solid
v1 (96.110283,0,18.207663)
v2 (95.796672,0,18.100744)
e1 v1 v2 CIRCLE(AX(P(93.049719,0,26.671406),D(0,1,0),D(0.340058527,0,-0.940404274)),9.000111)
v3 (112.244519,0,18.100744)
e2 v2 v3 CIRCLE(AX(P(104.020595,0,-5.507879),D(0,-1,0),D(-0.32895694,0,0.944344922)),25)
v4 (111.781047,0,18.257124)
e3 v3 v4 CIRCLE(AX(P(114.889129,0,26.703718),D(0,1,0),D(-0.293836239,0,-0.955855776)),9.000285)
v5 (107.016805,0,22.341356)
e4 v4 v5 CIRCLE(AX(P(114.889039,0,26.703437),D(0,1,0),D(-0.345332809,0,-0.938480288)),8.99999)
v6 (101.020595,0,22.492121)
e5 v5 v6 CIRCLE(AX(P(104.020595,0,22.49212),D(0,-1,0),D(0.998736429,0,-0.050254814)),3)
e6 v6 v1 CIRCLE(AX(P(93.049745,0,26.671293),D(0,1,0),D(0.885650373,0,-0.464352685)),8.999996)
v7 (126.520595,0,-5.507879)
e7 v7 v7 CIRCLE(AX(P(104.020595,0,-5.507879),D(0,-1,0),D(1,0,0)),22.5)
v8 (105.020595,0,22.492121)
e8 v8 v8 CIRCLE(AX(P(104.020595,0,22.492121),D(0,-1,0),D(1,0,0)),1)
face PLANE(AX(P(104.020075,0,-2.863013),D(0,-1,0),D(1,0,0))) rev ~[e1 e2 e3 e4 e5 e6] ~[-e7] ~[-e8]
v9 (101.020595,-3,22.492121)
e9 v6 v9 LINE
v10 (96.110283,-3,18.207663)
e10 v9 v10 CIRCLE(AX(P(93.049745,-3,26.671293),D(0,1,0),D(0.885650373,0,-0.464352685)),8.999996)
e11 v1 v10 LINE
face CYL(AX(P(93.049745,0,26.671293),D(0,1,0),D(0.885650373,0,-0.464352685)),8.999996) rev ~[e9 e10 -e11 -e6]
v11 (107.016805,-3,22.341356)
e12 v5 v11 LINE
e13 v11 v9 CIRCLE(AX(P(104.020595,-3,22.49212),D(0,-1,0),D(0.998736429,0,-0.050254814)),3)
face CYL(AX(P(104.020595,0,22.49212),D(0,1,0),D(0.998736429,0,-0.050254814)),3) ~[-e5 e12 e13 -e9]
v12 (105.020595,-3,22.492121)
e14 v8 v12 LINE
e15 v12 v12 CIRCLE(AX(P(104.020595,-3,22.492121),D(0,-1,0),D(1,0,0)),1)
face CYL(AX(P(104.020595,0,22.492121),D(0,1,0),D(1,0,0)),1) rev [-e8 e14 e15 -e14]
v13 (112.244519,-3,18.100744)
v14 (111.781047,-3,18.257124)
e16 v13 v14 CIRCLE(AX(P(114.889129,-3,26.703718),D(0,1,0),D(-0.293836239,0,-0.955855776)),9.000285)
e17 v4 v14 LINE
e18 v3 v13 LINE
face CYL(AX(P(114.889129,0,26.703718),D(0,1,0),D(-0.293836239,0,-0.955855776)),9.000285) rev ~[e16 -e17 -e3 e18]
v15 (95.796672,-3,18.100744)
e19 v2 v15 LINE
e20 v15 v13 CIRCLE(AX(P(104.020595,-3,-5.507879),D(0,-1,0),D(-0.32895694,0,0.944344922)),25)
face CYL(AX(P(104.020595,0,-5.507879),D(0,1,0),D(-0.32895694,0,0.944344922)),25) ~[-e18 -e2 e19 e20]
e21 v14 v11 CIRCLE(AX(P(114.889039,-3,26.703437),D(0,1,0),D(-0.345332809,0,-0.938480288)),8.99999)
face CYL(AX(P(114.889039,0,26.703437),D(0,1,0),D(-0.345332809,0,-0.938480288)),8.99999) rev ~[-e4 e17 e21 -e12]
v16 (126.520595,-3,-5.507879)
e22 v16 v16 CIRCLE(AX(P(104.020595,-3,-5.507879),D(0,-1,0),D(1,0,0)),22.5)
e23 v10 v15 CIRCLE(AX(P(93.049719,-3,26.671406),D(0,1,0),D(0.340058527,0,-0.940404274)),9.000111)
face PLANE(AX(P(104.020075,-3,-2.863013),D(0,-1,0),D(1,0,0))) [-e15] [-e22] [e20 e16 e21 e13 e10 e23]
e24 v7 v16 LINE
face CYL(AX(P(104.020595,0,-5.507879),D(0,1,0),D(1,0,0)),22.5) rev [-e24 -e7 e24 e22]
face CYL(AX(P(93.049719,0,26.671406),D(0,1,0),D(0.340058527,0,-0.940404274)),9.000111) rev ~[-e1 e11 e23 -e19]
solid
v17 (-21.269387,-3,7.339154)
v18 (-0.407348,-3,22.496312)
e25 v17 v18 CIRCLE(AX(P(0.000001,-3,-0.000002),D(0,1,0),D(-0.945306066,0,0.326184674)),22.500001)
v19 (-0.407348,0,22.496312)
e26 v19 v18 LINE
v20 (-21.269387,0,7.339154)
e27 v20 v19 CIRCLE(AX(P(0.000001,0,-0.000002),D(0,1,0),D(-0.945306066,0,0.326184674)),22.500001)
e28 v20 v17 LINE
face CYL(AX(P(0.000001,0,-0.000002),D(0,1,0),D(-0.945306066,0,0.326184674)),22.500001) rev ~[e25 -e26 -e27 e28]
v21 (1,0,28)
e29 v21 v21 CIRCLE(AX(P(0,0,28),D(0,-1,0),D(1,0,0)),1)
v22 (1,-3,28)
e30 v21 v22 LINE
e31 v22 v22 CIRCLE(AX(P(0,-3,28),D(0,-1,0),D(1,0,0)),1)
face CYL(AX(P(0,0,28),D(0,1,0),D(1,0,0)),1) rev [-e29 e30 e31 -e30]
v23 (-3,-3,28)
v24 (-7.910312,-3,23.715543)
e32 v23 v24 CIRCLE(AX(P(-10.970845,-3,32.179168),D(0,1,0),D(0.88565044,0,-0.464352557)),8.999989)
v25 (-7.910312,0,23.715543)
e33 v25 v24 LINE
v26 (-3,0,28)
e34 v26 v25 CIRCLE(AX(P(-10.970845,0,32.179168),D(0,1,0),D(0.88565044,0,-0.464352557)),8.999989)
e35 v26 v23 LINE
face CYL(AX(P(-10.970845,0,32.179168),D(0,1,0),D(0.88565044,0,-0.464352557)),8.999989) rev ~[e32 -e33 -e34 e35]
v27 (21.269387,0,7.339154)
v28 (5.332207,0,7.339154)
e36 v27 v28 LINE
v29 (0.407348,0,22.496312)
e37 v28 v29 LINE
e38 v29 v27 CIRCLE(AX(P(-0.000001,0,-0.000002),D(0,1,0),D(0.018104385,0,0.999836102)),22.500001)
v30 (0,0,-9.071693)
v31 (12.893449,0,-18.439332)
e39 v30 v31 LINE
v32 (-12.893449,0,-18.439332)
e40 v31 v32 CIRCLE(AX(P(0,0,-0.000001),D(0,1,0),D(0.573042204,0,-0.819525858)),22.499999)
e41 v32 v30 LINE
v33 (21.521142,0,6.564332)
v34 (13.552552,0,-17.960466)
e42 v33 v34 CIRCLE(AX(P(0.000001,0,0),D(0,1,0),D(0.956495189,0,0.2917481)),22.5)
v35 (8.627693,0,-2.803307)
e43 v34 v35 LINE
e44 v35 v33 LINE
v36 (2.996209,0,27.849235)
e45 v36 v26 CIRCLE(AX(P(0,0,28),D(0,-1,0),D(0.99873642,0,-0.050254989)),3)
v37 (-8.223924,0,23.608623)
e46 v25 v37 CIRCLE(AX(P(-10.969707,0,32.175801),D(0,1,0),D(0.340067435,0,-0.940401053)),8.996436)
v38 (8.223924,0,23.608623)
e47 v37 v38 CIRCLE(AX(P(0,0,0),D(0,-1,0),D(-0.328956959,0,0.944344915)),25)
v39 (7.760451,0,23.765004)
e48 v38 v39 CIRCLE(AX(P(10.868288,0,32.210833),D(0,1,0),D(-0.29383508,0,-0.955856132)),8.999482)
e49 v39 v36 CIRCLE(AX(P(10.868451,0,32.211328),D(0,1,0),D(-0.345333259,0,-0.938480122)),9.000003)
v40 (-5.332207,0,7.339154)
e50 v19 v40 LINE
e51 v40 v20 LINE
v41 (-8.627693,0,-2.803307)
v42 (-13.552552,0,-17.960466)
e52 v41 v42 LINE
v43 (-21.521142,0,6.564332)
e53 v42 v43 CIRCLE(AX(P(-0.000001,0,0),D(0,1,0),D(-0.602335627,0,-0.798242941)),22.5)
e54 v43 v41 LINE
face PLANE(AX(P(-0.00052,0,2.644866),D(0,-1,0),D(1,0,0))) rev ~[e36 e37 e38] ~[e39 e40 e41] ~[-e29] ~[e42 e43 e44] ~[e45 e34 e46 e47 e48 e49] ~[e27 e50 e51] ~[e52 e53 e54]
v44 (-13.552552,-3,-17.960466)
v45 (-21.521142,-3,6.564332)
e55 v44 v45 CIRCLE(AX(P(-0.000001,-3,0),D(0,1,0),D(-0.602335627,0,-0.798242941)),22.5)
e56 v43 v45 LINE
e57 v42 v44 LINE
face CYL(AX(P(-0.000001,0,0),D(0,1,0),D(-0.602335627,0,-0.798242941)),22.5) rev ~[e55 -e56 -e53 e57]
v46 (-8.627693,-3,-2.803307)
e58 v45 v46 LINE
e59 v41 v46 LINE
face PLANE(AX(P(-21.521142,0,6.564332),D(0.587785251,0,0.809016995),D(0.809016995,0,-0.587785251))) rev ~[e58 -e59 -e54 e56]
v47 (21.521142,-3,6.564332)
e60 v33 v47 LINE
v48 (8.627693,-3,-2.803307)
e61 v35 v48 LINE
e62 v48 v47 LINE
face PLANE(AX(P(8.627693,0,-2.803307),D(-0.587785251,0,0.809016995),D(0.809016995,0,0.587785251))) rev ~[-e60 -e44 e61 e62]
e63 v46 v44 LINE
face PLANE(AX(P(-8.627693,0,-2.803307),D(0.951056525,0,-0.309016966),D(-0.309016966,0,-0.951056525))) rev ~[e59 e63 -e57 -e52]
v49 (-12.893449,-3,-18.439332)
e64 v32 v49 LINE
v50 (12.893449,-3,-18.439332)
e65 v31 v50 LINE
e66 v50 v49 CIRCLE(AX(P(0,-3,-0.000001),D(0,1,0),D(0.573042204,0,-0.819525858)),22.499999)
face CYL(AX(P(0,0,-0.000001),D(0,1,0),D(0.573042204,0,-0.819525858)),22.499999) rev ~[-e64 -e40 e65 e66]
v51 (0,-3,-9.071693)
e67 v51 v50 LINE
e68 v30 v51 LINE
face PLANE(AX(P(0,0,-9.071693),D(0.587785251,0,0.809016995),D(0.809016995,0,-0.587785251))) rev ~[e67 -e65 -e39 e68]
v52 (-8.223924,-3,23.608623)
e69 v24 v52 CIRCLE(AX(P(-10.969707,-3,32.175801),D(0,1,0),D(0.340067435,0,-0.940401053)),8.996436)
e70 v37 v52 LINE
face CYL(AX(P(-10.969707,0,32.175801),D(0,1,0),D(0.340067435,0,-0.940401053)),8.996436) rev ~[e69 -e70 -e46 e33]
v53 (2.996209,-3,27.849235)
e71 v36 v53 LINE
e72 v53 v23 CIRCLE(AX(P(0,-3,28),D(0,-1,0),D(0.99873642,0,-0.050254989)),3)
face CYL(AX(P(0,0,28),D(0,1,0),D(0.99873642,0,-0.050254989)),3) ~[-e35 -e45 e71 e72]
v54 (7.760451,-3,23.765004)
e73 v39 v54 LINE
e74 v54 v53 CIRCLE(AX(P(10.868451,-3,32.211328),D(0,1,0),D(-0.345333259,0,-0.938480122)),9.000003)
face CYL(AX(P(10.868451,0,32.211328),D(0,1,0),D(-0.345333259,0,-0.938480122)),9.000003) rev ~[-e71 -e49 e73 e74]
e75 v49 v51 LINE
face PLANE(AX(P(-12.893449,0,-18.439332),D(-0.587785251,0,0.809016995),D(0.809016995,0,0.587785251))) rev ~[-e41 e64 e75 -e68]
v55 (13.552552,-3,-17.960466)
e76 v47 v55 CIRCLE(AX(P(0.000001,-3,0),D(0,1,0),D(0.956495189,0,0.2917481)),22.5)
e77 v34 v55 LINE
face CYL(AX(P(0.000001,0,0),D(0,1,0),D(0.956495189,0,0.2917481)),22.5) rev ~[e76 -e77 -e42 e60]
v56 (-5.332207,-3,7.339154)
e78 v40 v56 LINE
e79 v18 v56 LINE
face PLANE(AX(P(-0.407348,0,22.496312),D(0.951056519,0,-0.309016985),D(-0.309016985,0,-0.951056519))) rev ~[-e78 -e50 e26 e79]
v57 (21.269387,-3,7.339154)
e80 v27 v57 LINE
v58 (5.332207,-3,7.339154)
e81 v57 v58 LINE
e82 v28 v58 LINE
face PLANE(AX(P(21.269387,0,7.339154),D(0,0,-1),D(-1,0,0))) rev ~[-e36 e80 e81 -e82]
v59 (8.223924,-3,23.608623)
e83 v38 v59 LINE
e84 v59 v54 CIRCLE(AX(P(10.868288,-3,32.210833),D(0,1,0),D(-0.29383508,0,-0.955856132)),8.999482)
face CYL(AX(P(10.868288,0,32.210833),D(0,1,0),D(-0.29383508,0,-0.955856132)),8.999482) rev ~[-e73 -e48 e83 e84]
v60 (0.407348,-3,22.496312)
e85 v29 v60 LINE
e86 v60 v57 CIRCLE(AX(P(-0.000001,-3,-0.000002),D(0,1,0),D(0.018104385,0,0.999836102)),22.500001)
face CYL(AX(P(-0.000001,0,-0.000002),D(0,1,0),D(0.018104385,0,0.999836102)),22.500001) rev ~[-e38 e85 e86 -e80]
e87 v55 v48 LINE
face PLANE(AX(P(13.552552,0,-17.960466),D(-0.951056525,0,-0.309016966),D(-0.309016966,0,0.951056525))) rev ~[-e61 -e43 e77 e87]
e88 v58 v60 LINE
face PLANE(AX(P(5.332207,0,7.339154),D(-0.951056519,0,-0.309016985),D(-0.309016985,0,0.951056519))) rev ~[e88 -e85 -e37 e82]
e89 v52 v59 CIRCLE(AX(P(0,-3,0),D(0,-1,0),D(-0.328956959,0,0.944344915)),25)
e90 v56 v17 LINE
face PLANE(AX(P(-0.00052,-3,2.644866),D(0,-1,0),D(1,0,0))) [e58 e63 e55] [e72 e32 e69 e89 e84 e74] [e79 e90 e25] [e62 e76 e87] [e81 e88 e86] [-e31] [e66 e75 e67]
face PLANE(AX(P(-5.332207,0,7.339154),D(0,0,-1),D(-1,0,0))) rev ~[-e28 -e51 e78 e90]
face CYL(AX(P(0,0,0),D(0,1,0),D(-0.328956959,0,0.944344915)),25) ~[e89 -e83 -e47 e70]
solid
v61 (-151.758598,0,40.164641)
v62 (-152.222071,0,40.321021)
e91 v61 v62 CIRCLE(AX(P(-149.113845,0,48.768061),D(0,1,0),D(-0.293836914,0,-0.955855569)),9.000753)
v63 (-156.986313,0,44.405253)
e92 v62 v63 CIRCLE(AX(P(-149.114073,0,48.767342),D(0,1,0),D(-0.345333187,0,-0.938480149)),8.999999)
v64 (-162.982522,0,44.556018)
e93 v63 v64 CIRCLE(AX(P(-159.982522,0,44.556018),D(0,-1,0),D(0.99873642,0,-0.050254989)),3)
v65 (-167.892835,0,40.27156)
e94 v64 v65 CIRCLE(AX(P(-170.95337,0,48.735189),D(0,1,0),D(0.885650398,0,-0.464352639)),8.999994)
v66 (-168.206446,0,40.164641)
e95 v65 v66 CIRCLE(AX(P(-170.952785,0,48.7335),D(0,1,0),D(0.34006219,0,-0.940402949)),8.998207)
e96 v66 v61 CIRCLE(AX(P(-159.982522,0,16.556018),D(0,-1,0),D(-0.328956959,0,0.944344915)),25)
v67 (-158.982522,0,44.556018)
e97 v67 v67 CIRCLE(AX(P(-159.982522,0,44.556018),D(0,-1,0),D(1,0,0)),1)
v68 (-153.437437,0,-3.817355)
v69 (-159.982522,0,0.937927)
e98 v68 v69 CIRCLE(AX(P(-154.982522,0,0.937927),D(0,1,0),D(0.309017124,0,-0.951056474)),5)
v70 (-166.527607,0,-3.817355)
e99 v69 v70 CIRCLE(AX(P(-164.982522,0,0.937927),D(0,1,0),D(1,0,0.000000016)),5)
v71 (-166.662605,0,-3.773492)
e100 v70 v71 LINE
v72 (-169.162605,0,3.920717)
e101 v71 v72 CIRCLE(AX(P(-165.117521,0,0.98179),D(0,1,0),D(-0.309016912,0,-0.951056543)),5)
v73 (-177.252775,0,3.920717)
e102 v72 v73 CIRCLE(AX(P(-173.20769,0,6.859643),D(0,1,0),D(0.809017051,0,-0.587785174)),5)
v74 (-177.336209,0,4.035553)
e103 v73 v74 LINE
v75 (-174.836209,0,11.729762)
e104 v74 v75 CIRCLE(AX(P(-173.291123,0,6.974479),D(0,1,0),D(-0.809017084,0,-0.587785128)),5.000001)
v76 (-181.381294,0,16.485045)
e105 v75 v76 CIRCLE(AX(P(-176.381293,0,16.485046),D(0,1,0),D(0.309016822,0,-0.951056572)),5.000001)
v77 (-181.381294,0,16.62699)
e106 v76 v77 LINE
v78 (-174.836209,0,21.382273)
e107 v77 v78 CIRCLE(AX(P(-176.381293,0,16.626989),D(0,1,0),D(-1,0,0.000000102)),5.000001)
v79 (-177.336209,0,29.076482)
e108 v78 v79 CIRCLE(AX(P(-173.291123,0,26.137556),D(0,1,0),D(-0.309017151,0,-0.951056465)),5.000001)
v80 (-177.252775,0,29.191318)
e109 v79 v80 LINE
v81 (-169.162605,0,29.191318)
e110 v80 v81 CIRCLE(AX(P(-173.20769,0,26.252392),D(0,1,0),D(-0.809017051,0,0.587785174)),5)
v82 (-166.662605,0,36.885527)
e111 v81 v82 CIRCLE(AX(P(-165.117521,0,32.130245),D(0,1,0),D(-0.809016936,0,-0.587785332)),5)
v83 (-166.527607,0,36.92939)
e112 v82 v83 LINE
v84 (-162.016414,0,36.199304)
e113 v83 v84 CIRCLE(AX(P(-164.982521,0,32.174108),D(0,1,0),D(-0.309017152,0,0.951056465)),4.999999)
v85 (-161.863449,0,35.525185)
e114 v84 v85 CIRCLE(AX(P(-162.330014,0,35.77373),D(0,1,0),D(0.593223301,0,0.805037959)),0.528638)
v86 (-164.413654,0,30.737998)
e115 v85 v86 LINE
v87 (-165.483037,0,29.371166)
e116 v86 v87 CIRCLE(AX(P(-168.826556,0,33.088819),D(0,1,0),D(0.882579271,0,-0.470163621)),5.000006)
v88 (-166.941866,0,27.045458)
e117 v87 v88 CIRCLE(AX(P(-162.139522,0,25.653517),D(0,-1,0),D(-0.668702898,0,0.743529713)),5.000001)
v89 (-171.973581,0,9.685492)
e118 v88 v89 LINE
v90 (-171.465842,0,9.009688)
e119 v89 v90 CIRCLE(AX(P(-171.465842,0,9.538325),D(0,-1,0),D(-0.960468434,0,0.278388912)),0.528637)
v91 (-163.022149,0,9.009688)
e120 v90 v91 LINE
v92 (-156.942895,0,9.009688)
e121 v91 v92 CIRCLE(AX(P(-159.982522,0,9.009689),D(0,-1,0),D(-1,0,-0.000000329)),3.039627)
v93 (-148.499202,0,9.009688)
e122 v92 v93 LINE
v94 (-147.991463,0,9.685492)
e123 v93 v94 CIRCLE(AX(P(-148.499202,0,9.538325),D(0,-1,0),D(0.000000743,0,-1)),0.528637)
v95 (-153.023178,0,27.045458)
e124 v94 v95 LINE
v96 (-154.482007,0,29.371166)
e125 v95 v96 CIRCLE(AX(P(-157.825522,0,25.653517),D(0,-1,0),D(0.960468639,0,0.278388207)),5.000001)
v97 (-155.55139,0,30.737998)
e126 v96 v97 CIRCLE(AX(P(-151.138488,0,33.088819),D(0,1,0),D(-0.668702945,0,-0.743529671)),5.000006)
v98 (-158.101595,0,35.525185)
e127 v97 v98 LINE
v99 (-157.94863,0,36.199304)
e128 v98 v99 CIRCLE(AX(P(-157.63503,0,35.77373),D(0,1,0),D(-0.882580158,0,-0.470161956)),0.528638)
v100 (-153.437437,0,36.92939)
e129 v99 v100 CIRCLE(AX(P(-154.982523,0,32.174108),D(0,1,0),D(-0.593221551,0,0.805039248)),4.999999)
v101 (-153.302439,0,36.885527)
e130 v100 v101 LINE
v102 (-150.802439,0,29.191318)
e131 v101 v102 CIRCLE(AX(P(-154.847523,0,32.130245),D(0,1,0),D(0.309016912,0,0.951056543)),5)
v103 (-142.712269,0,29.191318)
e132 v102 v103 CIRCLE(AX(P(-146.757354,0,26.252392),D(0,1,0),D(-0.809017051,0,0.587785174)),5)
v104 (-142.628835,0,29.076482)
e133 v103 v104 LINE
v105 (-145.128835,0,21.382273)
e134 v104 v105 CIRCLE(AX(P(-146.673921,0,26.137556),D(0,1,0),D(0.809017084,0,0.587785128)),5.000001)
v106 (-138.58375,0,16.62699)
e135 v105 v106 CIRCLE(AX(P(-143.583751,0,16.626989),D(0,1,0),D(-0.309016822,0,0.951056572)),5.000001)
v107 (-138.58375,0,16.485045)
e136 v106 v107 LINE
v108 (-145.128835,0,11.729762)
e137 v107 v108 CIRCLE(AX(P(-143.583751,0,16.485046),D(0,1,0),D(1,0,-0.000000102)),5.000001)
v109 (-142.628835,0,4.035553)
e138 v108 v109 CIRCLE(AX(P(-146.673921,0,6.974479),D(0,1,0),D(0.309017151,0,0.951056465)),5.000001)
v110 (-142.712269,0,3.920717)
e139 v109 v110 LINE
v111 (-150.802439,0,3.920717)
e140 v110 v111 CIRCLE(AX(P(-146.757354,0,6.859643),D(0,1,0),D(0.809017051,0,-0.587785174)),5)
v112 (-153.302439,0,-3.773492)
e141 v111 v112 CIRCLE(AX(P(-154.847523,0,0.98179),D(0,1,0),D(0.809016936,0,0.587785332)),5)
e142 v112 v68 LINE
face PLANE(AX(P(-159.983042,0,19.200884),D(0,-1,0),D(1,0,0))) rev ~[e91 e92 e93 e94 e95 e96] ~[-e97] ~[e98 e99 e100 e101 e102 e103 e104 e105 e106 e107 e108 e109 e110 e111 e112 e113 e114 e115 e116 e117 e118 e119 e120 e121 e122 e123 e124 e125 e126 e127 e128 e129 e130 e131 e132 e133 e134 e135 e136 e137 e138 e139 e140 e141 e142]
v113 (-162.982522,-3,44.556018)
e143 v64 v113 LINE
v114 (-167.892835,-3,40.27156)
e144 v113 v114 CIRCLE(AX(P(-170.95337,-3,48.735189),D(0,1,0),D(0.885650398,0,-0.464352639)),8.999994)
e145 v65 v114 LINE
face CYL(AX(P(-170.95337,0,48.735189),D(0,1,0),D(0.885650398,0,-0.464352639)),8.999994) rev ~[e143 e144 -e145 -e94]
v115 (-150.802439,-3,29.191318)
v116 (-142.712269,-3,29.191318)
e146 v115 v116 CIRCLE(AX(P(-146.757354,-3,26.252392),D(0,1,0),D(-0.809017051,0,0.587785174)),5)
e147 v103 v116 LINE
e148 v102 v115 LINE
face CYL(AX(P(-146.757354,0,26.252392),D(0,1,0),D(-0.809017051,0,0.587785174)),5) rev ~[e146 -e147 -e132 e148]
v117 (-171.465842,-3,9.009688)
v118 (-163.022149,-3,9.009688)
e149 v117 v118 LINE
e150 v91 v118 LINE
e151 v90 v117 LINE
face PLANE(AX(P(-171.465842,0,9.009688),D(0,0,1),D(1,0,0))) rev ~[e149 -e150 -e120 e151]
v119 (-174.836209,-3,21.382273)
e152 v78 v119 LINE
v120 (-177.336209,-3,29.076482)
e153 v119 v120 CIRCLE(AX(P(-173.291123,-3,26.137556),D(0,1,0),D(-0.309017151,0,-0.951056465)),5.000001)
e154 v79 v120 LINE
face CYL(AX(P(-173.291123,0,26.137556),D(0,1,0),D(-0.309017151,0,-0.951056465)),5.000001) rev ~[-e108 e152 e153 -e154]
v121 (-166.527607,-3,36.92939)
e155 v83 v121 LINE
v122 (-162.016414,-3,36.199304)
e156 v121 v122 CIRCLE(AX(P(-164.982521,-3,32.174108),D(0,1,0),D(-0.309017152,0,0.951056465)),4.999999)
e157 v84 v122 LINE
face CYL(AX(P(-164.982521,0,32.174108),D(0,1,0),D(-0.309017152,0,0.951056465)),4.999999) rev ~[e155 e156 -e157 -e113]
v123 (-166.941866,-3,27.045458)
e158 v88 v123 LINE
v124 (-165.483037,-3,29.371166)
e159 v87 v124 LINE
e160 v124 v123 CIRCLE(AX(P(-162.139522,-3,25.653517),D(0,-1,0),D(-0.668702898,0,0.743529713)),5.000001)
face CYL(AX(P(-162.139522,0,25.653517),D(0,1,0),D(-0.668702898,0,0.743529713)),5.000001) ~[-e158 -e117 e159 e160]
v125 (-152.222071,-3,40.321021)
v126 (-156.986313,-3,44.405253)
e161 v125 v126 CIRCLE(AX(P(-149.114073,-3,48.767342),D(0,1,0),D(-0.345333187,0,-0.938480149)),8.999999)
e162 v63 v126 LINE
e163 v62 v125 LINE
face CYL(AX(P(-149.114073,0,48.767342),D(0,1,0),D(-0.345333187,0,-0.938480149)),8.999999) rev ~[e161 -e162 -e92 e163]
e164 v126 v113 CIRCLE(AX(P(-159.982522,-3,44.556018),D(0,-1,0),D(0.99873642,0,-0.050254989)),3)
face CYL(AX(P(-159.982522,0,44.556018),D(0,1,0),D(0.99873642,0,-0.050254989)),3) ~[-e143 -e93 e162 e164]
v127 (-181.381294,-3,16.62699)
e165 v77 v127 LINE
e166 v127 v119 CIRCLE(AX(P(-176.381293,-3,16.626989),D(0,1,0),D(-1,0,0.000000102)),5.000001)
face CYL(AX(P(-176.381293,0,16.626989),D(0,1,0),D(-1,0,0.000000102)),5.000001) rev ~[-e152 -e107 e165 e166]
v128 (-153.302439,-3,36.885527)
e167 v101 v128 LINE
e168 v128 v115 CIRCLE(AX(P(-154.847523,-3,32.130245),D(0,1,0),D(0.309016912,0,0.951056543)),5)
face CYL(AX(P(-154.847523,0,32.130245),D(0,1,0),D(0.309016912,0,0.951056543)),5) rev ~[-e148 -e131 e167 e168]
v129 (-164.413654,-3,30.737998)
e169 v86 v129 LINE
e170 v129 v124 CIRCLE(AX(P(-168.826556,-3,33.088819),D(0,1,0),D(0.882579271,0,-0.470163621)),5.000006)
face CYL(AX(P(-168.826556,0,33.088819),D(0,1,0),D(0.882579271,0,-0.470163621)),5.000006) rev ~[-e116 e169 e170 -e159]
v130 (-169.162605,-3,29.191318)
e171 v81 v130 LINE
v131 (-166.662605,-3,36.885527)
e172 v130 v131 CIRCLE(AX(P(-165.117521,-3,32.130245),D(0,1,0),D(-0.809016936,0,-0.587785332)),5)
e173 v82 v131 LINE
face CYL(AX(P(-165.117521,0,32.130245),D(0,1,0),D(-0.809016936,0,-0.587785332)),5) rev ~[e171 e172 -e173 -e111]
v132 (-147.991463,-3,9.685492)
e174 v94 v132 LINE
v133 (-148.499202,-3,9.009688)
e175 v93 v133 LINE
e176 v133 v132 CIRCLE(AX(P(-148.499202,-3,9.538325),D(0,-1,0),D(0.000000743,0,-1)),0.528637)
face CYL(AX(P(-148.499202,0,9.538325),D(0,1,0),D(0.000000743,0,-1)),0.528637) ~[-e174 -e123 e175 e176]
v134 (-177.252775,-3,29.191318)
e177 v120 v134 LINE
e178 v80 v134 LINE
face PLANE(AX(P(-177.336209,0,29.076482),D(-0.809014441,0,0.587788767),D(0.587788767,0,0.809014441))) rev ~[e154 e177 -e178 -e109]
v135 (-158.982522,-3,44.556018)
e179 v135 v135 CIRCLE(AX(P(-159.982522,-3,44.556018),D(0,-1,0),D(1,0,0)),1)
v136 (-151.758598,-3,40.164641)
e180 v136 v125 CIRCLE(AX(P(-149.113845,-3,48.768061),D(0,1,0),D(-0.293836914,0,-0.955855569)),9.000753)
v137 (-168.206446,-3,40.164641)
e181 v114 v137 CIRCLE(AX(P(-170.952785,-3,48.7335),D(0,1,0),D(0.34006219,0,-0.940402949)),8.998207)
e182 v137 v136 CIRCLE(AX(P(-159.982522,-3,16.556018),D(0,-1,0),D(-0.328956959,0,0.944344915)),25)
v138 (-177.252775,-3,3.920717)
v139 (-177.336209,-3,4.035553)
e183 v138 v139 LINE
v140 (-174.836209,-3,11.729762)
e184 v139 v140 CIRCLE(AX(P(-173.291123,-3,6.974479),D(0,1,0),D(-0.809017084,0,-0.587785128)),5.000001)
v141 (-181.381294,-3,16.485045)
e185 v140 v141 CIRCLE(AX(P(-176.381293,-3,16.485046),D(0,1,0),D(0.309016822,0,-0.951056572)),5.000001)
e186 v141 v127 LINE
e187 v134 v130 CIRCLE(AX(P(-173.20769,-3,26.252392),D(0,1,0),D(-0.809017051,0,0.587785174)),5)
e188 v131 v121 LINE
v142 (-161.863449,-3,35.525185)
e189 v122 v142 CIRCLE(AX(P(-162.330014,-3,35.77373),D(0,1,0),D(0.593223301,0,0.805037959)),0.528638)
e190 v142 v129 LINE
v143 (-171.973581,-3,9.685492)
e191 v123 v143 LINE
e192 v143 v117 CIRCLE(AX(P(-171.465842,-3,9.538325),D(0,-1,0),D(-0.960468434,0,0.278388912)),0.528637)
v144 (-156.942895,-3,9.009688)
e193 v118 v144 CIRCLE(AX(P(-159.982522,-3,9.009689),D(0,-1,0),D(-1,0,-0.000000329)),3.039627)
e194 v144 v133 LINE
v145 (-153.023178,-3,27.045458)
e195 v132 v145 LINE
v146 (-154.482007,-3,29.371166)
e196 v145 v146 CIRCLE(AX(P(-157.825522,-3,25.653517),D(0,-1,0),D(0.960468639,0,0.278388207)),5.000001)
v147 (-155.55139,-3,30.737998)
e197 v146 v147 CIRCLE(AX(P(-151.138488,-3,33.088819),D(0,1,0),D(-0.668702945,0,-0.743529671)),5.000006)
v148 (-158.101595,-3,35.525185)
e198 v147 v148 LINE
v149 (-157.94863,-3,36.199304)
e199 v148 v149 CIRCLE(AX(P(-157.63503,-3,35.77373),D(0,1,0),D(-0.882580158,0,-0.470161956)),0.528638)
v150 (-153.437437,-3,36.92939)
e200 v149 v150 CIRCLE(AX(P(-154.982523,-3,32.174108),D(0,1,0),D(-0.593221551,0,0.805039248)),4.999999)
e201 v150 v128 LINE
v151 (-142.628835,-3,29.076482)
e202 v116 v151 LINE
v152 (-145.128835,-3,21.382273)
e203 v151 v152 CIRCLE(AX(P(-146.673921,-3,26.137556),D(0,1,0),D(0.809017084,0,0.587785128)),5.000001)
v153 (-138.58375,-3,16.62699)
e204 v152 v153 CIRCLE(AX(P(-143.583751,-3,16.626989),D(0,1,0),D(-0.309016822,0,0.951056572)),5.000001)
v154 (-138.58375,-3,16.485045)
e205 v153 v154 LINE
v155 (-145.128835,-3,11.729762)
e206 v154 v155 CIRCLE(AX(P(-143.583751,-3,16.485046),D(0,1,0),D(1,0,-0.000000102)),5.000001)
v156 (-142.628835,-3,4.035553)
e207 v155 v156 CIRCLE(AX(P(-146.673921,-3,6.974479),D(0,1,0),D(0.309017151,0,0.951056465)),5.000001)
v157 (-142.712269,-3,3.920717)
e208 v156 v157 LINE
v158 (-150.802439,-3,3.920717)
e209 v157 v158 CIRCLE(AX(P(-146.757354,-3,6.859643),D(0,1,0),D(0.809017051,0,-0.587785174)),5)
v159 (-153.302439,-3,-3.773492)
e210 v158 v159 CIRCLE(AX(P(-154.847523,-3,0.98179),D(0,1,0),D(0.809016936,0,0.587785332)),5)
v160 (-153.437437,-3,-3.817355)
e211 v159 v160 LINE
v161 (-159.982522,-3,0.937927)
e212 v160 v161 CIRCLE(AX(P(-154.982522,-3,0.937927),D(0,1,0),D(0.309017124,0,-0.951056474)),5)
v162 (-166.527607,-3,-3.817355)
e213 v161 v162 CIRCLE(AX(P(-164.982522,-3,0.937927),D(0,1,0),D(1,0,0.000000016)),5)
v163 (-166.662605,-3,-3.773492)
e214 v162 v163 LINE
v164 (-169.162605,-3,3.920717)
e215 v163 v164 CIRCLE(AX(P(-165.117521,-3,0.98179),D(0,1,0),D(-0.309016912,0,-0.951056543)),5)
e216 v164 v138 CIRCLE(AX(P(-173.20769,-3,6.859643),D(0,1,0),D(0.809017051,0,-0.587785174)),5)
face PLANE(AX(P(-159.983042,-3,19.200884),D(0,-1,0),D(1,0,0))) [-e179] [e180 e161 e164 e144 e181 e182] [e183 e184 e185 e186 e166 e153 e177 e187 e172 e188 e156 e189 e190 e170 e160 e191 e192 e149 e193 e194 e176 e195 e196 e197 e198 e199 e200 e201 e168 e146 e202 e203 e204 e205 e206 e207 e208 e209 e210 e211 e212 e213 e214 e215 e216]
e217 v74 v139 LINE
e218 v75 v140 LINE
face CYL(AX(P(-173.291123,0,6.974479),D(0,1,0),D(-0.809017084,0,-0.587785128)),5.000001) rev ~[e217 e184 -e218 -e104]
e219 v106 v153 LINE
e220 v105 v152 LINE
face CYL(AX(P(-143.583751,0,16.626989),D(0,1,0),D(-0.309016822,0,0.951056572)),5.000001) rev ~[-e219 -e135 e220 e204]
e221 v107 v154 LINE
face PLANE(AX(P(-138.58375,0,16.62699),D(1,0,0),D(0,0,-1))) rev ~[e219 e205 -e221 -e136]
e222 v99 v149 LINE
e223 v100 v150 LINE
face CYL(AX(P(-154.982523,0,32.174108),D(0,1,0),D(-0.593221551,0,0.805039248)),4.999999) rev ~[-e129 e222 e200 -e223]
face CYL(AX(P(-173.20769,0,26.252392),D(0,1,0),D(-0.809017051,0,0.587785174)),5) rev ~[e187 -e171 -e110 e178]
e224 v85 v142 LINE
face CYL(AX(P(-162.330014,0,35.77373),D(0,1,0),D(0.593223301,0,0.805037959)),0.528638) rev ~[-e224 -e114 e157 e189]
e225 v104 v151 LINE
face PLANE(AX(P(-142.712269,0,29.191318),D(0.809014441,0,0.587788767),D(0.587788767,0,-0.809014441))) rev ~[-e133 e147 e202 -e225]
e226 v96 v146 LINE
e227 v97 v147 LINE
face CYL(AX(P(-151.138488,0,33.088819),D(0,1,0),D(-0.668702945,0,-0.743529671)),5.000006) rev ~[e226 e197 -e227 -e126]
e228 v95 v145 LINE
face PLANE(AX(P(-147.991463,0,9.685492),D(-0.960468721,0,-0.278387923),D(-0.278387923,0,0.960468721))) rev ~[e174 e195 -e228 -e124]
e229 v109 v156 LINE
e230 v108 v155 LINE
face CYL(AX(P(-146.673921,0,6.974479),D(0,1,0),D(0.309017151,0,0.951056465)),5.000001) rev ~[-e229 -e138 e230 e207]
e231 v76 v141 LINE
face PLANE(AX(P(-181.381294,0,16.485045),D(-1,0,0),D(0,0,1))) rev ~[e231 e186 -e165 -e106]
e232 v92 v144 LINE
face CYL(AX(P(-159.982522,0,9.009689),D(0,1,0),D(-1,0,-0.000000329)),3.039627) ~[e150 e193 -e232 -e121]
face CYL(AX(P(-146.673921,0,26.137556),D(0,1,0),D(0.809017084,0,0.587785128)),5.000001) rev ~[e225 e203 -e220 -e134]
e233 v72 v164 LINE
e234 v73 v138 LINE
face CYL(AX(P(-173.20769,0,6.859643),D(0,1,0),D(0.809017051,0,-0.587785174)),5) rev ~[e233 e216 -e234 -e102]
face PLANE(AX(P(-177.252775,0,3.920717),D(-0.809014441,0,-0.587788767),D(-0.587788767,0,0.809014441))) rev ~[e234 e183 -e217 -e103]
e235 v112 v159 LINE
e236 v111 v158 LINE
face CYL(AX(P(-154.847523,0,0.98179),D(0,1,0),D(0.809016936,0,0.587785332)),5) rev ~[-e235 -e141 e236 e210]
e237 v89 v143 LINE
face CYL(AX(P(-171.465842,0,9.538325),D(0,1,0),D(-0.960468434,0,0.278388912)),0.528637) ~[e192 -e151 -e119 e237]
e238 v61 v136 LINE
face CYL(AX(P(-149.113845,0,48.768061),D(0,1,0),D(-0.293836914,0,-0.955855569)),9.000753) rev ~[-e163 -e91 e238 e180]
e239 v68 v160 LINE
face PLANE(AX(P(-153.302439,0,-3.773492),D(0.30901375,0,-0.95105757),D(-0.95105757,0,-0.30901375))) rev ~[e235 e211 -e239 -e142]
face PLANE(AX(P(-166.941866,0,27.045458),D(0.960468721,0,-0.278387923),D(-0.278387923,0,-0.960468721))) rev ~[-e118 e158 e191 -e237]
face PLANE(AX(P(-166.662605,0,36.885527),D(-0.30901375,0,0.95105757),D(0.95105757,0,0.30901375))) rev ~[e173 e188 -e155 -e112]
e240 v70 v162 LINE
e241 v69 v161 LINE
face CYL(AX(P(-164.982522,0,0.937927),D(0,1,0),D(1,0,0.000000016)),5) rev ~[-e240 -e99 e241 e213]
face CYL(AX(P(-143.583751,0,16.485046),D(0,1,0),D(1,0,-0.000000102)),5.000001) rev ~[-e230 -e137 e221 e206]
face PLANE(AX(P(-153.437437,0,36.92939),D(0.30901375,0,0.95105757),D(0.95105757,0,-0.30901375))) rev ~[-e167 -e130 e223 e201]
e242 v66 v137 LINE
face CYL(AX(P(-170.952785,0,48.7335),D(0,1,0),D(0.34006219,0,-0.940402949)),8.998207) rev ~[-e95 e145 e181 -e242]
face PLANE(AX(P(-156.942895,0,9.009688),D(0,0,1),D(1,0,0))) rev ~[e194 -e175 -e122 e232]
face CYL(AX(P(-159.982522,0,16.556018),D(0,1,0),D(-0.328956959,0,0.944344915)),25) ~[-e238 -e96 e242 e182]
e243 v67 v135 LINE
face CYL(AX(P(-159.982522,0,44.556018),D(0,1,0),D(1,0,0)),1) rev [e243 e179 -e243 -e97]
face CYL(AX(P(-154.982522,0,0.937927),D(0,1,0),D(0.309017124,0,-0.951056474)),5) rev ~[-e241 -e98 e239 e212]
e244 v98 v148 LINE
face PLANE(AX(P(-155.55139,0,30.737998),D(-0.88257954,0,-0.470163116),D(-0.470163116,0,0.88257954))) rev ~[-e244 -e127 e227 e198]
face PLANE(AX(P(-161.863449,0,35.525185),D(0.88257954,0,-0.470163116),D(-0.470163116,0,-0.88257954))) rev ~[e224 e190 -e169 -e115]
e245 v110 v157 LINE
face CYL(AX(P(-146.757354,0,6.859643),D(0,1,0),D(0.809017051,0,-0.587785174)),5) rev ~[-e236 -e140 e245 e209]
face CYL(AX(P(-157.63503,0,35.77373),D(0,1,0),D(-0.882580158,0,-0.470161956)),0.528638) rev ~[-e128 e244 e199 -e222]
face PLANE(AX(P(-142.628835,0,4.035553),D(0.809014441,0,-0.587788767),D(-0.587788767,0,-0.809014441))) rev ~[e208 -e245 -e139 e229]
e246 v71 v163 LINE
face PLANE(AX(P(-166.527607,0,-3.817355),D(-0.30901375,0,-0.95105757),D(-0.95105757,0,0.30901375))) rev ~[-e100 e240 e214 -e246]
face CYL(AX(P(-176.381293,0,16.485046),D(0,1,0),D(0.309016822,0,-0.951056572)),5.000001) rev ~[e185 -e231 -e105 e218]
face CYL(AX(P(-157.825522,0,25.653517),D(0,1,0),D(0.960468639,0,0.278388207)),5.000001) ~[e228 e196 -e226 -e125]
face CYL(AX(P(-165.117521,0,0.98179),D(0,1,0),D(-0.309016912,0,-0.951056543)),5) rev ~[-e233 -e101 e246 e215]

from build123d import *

# Parameters (mm, degrees)
F0_R     = 22.5
F0_R_2   = 1
F1_DEPTH = 3


with BuildPart() as f1:
    # F0 (on Front) → F1 (new body)
    with BuildSketch(Plane.XZ):
        with BuildLine():
            ThreePointArc((101.020595, 22.492121), (98.966841, 19.889855), (96.110283, 18.207663))
            ThreePointArc((96.110283, 18.207663), (95.953969, 18.15276), (95.796672, 18.100744))
            ThreePointArc((95.796672, 18.100744), (104.020595, -30.507879), (112.244519, 18.100744))
            ThreePointArc((112.244519, 18.100744), (112.01172, 18.175785), (111.781047, 18.257124))
            ThreePointArc((111.781047, 18.257124), (109.03143, 19.870558), (107.016805, 22.341356))
            ThreePointArc((107.016805, 22.341356), (104.096001, 25.491173), (101.020595, 22.492121))
        make_face()
        with Locations((104.020595, -5.507879)):
            Circle(F0_R, mode=Mode.SUBTRACT)
        with Locations((104.020595, 22.492121)):
            Circle(F0_R_2, mode=Mode.SUBTRACT)
        with BuildLine():
            ThreePointArc((-3, 28), (-5.053754, 25.397734), (-7.910312, 23.715543))
            ThreePointArc((-7.910312, 23.715543), (-8.066626, 23.660639), (-8.223924, 23.608623))
            ThreePointArc((-8.223924, 23.608623), (0, -25), (8.223924, 23.608623))
            ThreePointArc((8.223924, 23.608623), (7.991125, 23.683664), (7.760451, 23.765004))
            ThreePointArc((7.760451, 23.765004), (5.010835, 25.378438), (2.996209, 27.849235))
            ThreePointArc((2.996209, 27.849235), (0.075406, 30.999052), (-3, 28))
        make_face()
        with BuildLine():
            Line((-12.893449, -18.439332), (0, -9.071693))
            Line((0, -9.071693), (12.893449, -18.439332))
            ThreePointArc((12.893449, -18.439332), (0, -22.5), (-12.893449, -18.439332))
        make_face(mode=Mode.SUBTRACT)
        with BuildLine():
            Line((-8.627693, -2.803307), (-13.552552, -17.960466))
            ThreePointArc((-13.552552, -17.960466), (-21.398772, -6.952882), (-21.521142, 6.564332))
            Line((-21.521142, 6.564332), (-8.627693, -2.803307))
        make_face(mode=Mode.SUBTRACT)
        with BuildLine():
            Line((8.627693, -2.803307), (21.521142, 6.564332))
            ThreePointArc((21.521142, 6.564332), (21.398772, -6.952882), (13.552552, -17.960466))
            Line((13.552552, -17.960466), (8.627693, -2.803307))
        make_face(mode=Mode.SUBTRACT)
        with BuildLine():
            ThreePointArc((-21.269387, 7.339154), (-13.225168, 18.202882), (-0.407348, 22.496312))
            Line((-0.407348, 22.496312), (-5.332207, 7.339154))
            Line((-5.332207, 7.339154), (-21.269387, 7.339154))
        make_face(mode=Mode.SUBTRACT)
        with BuildLine():
            Line((5.332207, 7.339154), (0.407348, 22.496312))
            ThreePointArc((0.407348, 22.496312), (13.225168, 18.202882), (21.269387, 7.339154))
            Line((21.269387, 7.339154), (5.332207, 7.339154))
        make_face(mode=Mode.SUBTRACT)
        with Locations((0, 28)):
            Circle(F0_R_2, mode=Mode.SUBTRACT)
        with BuildLine():
            ThreePointArc((-162.982522, 44.556018), (-165.036276, 41.953752), (-167.892835, 40.27156))
            ThreePointArc((-167.892835, 40.27156), (-168.049148, 40.216657), (-168.206446, 40.164641))
            ThreePointArc((-168.206446, 40.164641), (-159.982522, -8.443982), (-151.758598, 40.164641))
            ThreePointArc((-151.758598, 40.164641), (-151.991397, 40.239682), (-152.222071, 40.321021))
            ThreePointArc((-152.222071, 40.321021), (-154.971687, 41.934455), (-156.986313, 44.405253))
            ThreePointArc((-156.986313, 44.405253), (-159.907116, 47.55507), (-162.982522, 44.556018))
        make_face()
        with BuildLine():
            ThreePointArc((-157.94863, 36.199304), (-155.781323, 37.109887), (-153.437437, 36.92939))
            Line((-153.437437, 36.92939), (-153.302439, 36.885527))
            ThreePointArc((-153.302439, 36.885527), (-150.092241, 33.675329), (-150.802439, 29.191318))
            ThreePointArc((-150.802439, 29.191318), (-146.757354, 31.252392), (-142.712269, 29.191318))
            Line((-142.712269, 29.191318), (-142.628835, 29.076482))
            ThreePointArc((-142.628835, 29.076482), (-141.918638, 24.59247), (-145.128835, 21.382273))
            ThreePointArc((-145.128835, 21.382273), (-140.644824, 20.672075), (-138.58375, 16.62699))
            Line((-138.58375, 16.62699), (-138.58375, 16.485045))
            ThreePointArc((-138.58375, 16.485045), (-140.644824, 12.43996), (-145.128835, 11.729762))
            ThreePointArc((-145.128835, 11.729762), (-141.918638, 8.519565), (-142.628835, 4.035553))
            Line((-142.628835, 4.035553), (-142.712269, 3.920717))
            ThreePointArc((-142.712269, 3.920717), (-146.757354, 1.859643), (-150.802439, 3.920717))
            ThreePointArc((-150.802439, 3.920717), (-150.092241, -0.563294), (-153.302439, -3.773492))
            Line((-153.302439, -3.773492), (-153.437437, -3.817355))
            ThreePointArc((-153.437437, -3.817355), (-157.921448, -3.107158), (-159.982522, 0.937927))
            ThreePointArc((-159.982522, 0.937927), (-162.043596, -3.107158), (-166.527607, -3.817355))
            Line((-166.527607, -3.817355), (-166.662605, -3.773492))
            ThreePointArc((-166.662605, -3.773492), (-169.872803, -0.563294), (-169.162605, 3.920717))
            ThreePointArc((-169.162605, 3.920717), (-173.20769, 1.859643), (-177.252775, 3.920717))
            Line((-177.252775, 3.920717), (-177.336209, 4.035553))
            ThreePointArc((-177.336209, 4.035553), (-178.046406, 8.519565), (-174.836209, 11.729762))
            ThreePointArc((-174.836209, 11.729762), (-179.32022, 12.43996), (-181.381294, 16.485045))
            Line((-181.381294, 16.485045), (-181.381294, 16.62699))
            ThreePointArc((-181.381294, 16.62699), (-179.32022, 20.672075), (-174.836209, 21.382273))
            ThreePointArc((-174.836209, 21.382273), (-178.046406, 24.59247), (-177.336209, 29.076482))
            Line((-177.336209, 29.076482), (-177.252775, 29.191318))
            ThreePointArc((-177.252775, 29.191318), (-173.20769, 31.252392), (-169.162605, 29.191318))
            ThreePointArc((-169.162605, 29.191318), (-169.872803, 33.675329), (-166.662605, 36.885527))
            Line((-166.662605, 36.885527), (-166.527607, 36.92939))
            ThreePointArc((-166.527607, 36.92939), (-164.183721, 37.109887), (-162.016414, 36.199304))
            ThreePointArc((-162.016414, 36.199304), (-161.814482, 35.890711), (-161.863449, 35.525185))
            Line((-161.863449, 35.525185), (-164.413654, 30.737998))
            ThreePointArc((-164.413654, 30.737998), (-164.88859, 30.007831), (-165.483037, 29.371166))
            ThreePointArc((-165.483037, 29.371166), (-166.375202, 28.310399), (-166.941866, 27.045458))
            Line((-166.941866, 27.045458), (-171.973581, 9.685492))
            ThreePointArc((-171.973581, 9.685492), (-171.888485, 9.220788), (-171.465842, 9.009688))
            Line((-171.465842, 9.009688), (-163.022149, 9.009688))
            ThreePointArc((-163.022149, 9.009688), (-159.982522, 5.970062), (-156.942895, 9.009688))
            Line((-156.942895, 9.009688), (-148.499202, 9.009688))
            ThreePointArc((-148.499202, 9.009688), (-148.076559, 9.220788), (-147.991463, 9.685492))
            Line((-147.991463, 9.685492), (-153.023178, 27.045458))
            ThreePointArc((-153.023178, 27.045458), (-153.589842, 28.310399), (-154.482007, 29.371166))
            ThreePointArc((-154.482007, 29.371166), (-155.076454, 30.007831), (-155.55139, 30.737998))
            Line((-155.55139, 30.737998), (-158.101595, 35.525185))
            ThreePointArc((-158.101595, 35.525185), (-158.150562, 35.890711), (-157.94863, 36.199304))
        make_face(mode=Mode.SUBTRACT)
        with Locations((-159.982522, 44.556018)):
            Circle(F0_R_2, mode=Mode.SUBTRACT)
    extrude(amount=F1_DEPTH)


solid = f1.part
